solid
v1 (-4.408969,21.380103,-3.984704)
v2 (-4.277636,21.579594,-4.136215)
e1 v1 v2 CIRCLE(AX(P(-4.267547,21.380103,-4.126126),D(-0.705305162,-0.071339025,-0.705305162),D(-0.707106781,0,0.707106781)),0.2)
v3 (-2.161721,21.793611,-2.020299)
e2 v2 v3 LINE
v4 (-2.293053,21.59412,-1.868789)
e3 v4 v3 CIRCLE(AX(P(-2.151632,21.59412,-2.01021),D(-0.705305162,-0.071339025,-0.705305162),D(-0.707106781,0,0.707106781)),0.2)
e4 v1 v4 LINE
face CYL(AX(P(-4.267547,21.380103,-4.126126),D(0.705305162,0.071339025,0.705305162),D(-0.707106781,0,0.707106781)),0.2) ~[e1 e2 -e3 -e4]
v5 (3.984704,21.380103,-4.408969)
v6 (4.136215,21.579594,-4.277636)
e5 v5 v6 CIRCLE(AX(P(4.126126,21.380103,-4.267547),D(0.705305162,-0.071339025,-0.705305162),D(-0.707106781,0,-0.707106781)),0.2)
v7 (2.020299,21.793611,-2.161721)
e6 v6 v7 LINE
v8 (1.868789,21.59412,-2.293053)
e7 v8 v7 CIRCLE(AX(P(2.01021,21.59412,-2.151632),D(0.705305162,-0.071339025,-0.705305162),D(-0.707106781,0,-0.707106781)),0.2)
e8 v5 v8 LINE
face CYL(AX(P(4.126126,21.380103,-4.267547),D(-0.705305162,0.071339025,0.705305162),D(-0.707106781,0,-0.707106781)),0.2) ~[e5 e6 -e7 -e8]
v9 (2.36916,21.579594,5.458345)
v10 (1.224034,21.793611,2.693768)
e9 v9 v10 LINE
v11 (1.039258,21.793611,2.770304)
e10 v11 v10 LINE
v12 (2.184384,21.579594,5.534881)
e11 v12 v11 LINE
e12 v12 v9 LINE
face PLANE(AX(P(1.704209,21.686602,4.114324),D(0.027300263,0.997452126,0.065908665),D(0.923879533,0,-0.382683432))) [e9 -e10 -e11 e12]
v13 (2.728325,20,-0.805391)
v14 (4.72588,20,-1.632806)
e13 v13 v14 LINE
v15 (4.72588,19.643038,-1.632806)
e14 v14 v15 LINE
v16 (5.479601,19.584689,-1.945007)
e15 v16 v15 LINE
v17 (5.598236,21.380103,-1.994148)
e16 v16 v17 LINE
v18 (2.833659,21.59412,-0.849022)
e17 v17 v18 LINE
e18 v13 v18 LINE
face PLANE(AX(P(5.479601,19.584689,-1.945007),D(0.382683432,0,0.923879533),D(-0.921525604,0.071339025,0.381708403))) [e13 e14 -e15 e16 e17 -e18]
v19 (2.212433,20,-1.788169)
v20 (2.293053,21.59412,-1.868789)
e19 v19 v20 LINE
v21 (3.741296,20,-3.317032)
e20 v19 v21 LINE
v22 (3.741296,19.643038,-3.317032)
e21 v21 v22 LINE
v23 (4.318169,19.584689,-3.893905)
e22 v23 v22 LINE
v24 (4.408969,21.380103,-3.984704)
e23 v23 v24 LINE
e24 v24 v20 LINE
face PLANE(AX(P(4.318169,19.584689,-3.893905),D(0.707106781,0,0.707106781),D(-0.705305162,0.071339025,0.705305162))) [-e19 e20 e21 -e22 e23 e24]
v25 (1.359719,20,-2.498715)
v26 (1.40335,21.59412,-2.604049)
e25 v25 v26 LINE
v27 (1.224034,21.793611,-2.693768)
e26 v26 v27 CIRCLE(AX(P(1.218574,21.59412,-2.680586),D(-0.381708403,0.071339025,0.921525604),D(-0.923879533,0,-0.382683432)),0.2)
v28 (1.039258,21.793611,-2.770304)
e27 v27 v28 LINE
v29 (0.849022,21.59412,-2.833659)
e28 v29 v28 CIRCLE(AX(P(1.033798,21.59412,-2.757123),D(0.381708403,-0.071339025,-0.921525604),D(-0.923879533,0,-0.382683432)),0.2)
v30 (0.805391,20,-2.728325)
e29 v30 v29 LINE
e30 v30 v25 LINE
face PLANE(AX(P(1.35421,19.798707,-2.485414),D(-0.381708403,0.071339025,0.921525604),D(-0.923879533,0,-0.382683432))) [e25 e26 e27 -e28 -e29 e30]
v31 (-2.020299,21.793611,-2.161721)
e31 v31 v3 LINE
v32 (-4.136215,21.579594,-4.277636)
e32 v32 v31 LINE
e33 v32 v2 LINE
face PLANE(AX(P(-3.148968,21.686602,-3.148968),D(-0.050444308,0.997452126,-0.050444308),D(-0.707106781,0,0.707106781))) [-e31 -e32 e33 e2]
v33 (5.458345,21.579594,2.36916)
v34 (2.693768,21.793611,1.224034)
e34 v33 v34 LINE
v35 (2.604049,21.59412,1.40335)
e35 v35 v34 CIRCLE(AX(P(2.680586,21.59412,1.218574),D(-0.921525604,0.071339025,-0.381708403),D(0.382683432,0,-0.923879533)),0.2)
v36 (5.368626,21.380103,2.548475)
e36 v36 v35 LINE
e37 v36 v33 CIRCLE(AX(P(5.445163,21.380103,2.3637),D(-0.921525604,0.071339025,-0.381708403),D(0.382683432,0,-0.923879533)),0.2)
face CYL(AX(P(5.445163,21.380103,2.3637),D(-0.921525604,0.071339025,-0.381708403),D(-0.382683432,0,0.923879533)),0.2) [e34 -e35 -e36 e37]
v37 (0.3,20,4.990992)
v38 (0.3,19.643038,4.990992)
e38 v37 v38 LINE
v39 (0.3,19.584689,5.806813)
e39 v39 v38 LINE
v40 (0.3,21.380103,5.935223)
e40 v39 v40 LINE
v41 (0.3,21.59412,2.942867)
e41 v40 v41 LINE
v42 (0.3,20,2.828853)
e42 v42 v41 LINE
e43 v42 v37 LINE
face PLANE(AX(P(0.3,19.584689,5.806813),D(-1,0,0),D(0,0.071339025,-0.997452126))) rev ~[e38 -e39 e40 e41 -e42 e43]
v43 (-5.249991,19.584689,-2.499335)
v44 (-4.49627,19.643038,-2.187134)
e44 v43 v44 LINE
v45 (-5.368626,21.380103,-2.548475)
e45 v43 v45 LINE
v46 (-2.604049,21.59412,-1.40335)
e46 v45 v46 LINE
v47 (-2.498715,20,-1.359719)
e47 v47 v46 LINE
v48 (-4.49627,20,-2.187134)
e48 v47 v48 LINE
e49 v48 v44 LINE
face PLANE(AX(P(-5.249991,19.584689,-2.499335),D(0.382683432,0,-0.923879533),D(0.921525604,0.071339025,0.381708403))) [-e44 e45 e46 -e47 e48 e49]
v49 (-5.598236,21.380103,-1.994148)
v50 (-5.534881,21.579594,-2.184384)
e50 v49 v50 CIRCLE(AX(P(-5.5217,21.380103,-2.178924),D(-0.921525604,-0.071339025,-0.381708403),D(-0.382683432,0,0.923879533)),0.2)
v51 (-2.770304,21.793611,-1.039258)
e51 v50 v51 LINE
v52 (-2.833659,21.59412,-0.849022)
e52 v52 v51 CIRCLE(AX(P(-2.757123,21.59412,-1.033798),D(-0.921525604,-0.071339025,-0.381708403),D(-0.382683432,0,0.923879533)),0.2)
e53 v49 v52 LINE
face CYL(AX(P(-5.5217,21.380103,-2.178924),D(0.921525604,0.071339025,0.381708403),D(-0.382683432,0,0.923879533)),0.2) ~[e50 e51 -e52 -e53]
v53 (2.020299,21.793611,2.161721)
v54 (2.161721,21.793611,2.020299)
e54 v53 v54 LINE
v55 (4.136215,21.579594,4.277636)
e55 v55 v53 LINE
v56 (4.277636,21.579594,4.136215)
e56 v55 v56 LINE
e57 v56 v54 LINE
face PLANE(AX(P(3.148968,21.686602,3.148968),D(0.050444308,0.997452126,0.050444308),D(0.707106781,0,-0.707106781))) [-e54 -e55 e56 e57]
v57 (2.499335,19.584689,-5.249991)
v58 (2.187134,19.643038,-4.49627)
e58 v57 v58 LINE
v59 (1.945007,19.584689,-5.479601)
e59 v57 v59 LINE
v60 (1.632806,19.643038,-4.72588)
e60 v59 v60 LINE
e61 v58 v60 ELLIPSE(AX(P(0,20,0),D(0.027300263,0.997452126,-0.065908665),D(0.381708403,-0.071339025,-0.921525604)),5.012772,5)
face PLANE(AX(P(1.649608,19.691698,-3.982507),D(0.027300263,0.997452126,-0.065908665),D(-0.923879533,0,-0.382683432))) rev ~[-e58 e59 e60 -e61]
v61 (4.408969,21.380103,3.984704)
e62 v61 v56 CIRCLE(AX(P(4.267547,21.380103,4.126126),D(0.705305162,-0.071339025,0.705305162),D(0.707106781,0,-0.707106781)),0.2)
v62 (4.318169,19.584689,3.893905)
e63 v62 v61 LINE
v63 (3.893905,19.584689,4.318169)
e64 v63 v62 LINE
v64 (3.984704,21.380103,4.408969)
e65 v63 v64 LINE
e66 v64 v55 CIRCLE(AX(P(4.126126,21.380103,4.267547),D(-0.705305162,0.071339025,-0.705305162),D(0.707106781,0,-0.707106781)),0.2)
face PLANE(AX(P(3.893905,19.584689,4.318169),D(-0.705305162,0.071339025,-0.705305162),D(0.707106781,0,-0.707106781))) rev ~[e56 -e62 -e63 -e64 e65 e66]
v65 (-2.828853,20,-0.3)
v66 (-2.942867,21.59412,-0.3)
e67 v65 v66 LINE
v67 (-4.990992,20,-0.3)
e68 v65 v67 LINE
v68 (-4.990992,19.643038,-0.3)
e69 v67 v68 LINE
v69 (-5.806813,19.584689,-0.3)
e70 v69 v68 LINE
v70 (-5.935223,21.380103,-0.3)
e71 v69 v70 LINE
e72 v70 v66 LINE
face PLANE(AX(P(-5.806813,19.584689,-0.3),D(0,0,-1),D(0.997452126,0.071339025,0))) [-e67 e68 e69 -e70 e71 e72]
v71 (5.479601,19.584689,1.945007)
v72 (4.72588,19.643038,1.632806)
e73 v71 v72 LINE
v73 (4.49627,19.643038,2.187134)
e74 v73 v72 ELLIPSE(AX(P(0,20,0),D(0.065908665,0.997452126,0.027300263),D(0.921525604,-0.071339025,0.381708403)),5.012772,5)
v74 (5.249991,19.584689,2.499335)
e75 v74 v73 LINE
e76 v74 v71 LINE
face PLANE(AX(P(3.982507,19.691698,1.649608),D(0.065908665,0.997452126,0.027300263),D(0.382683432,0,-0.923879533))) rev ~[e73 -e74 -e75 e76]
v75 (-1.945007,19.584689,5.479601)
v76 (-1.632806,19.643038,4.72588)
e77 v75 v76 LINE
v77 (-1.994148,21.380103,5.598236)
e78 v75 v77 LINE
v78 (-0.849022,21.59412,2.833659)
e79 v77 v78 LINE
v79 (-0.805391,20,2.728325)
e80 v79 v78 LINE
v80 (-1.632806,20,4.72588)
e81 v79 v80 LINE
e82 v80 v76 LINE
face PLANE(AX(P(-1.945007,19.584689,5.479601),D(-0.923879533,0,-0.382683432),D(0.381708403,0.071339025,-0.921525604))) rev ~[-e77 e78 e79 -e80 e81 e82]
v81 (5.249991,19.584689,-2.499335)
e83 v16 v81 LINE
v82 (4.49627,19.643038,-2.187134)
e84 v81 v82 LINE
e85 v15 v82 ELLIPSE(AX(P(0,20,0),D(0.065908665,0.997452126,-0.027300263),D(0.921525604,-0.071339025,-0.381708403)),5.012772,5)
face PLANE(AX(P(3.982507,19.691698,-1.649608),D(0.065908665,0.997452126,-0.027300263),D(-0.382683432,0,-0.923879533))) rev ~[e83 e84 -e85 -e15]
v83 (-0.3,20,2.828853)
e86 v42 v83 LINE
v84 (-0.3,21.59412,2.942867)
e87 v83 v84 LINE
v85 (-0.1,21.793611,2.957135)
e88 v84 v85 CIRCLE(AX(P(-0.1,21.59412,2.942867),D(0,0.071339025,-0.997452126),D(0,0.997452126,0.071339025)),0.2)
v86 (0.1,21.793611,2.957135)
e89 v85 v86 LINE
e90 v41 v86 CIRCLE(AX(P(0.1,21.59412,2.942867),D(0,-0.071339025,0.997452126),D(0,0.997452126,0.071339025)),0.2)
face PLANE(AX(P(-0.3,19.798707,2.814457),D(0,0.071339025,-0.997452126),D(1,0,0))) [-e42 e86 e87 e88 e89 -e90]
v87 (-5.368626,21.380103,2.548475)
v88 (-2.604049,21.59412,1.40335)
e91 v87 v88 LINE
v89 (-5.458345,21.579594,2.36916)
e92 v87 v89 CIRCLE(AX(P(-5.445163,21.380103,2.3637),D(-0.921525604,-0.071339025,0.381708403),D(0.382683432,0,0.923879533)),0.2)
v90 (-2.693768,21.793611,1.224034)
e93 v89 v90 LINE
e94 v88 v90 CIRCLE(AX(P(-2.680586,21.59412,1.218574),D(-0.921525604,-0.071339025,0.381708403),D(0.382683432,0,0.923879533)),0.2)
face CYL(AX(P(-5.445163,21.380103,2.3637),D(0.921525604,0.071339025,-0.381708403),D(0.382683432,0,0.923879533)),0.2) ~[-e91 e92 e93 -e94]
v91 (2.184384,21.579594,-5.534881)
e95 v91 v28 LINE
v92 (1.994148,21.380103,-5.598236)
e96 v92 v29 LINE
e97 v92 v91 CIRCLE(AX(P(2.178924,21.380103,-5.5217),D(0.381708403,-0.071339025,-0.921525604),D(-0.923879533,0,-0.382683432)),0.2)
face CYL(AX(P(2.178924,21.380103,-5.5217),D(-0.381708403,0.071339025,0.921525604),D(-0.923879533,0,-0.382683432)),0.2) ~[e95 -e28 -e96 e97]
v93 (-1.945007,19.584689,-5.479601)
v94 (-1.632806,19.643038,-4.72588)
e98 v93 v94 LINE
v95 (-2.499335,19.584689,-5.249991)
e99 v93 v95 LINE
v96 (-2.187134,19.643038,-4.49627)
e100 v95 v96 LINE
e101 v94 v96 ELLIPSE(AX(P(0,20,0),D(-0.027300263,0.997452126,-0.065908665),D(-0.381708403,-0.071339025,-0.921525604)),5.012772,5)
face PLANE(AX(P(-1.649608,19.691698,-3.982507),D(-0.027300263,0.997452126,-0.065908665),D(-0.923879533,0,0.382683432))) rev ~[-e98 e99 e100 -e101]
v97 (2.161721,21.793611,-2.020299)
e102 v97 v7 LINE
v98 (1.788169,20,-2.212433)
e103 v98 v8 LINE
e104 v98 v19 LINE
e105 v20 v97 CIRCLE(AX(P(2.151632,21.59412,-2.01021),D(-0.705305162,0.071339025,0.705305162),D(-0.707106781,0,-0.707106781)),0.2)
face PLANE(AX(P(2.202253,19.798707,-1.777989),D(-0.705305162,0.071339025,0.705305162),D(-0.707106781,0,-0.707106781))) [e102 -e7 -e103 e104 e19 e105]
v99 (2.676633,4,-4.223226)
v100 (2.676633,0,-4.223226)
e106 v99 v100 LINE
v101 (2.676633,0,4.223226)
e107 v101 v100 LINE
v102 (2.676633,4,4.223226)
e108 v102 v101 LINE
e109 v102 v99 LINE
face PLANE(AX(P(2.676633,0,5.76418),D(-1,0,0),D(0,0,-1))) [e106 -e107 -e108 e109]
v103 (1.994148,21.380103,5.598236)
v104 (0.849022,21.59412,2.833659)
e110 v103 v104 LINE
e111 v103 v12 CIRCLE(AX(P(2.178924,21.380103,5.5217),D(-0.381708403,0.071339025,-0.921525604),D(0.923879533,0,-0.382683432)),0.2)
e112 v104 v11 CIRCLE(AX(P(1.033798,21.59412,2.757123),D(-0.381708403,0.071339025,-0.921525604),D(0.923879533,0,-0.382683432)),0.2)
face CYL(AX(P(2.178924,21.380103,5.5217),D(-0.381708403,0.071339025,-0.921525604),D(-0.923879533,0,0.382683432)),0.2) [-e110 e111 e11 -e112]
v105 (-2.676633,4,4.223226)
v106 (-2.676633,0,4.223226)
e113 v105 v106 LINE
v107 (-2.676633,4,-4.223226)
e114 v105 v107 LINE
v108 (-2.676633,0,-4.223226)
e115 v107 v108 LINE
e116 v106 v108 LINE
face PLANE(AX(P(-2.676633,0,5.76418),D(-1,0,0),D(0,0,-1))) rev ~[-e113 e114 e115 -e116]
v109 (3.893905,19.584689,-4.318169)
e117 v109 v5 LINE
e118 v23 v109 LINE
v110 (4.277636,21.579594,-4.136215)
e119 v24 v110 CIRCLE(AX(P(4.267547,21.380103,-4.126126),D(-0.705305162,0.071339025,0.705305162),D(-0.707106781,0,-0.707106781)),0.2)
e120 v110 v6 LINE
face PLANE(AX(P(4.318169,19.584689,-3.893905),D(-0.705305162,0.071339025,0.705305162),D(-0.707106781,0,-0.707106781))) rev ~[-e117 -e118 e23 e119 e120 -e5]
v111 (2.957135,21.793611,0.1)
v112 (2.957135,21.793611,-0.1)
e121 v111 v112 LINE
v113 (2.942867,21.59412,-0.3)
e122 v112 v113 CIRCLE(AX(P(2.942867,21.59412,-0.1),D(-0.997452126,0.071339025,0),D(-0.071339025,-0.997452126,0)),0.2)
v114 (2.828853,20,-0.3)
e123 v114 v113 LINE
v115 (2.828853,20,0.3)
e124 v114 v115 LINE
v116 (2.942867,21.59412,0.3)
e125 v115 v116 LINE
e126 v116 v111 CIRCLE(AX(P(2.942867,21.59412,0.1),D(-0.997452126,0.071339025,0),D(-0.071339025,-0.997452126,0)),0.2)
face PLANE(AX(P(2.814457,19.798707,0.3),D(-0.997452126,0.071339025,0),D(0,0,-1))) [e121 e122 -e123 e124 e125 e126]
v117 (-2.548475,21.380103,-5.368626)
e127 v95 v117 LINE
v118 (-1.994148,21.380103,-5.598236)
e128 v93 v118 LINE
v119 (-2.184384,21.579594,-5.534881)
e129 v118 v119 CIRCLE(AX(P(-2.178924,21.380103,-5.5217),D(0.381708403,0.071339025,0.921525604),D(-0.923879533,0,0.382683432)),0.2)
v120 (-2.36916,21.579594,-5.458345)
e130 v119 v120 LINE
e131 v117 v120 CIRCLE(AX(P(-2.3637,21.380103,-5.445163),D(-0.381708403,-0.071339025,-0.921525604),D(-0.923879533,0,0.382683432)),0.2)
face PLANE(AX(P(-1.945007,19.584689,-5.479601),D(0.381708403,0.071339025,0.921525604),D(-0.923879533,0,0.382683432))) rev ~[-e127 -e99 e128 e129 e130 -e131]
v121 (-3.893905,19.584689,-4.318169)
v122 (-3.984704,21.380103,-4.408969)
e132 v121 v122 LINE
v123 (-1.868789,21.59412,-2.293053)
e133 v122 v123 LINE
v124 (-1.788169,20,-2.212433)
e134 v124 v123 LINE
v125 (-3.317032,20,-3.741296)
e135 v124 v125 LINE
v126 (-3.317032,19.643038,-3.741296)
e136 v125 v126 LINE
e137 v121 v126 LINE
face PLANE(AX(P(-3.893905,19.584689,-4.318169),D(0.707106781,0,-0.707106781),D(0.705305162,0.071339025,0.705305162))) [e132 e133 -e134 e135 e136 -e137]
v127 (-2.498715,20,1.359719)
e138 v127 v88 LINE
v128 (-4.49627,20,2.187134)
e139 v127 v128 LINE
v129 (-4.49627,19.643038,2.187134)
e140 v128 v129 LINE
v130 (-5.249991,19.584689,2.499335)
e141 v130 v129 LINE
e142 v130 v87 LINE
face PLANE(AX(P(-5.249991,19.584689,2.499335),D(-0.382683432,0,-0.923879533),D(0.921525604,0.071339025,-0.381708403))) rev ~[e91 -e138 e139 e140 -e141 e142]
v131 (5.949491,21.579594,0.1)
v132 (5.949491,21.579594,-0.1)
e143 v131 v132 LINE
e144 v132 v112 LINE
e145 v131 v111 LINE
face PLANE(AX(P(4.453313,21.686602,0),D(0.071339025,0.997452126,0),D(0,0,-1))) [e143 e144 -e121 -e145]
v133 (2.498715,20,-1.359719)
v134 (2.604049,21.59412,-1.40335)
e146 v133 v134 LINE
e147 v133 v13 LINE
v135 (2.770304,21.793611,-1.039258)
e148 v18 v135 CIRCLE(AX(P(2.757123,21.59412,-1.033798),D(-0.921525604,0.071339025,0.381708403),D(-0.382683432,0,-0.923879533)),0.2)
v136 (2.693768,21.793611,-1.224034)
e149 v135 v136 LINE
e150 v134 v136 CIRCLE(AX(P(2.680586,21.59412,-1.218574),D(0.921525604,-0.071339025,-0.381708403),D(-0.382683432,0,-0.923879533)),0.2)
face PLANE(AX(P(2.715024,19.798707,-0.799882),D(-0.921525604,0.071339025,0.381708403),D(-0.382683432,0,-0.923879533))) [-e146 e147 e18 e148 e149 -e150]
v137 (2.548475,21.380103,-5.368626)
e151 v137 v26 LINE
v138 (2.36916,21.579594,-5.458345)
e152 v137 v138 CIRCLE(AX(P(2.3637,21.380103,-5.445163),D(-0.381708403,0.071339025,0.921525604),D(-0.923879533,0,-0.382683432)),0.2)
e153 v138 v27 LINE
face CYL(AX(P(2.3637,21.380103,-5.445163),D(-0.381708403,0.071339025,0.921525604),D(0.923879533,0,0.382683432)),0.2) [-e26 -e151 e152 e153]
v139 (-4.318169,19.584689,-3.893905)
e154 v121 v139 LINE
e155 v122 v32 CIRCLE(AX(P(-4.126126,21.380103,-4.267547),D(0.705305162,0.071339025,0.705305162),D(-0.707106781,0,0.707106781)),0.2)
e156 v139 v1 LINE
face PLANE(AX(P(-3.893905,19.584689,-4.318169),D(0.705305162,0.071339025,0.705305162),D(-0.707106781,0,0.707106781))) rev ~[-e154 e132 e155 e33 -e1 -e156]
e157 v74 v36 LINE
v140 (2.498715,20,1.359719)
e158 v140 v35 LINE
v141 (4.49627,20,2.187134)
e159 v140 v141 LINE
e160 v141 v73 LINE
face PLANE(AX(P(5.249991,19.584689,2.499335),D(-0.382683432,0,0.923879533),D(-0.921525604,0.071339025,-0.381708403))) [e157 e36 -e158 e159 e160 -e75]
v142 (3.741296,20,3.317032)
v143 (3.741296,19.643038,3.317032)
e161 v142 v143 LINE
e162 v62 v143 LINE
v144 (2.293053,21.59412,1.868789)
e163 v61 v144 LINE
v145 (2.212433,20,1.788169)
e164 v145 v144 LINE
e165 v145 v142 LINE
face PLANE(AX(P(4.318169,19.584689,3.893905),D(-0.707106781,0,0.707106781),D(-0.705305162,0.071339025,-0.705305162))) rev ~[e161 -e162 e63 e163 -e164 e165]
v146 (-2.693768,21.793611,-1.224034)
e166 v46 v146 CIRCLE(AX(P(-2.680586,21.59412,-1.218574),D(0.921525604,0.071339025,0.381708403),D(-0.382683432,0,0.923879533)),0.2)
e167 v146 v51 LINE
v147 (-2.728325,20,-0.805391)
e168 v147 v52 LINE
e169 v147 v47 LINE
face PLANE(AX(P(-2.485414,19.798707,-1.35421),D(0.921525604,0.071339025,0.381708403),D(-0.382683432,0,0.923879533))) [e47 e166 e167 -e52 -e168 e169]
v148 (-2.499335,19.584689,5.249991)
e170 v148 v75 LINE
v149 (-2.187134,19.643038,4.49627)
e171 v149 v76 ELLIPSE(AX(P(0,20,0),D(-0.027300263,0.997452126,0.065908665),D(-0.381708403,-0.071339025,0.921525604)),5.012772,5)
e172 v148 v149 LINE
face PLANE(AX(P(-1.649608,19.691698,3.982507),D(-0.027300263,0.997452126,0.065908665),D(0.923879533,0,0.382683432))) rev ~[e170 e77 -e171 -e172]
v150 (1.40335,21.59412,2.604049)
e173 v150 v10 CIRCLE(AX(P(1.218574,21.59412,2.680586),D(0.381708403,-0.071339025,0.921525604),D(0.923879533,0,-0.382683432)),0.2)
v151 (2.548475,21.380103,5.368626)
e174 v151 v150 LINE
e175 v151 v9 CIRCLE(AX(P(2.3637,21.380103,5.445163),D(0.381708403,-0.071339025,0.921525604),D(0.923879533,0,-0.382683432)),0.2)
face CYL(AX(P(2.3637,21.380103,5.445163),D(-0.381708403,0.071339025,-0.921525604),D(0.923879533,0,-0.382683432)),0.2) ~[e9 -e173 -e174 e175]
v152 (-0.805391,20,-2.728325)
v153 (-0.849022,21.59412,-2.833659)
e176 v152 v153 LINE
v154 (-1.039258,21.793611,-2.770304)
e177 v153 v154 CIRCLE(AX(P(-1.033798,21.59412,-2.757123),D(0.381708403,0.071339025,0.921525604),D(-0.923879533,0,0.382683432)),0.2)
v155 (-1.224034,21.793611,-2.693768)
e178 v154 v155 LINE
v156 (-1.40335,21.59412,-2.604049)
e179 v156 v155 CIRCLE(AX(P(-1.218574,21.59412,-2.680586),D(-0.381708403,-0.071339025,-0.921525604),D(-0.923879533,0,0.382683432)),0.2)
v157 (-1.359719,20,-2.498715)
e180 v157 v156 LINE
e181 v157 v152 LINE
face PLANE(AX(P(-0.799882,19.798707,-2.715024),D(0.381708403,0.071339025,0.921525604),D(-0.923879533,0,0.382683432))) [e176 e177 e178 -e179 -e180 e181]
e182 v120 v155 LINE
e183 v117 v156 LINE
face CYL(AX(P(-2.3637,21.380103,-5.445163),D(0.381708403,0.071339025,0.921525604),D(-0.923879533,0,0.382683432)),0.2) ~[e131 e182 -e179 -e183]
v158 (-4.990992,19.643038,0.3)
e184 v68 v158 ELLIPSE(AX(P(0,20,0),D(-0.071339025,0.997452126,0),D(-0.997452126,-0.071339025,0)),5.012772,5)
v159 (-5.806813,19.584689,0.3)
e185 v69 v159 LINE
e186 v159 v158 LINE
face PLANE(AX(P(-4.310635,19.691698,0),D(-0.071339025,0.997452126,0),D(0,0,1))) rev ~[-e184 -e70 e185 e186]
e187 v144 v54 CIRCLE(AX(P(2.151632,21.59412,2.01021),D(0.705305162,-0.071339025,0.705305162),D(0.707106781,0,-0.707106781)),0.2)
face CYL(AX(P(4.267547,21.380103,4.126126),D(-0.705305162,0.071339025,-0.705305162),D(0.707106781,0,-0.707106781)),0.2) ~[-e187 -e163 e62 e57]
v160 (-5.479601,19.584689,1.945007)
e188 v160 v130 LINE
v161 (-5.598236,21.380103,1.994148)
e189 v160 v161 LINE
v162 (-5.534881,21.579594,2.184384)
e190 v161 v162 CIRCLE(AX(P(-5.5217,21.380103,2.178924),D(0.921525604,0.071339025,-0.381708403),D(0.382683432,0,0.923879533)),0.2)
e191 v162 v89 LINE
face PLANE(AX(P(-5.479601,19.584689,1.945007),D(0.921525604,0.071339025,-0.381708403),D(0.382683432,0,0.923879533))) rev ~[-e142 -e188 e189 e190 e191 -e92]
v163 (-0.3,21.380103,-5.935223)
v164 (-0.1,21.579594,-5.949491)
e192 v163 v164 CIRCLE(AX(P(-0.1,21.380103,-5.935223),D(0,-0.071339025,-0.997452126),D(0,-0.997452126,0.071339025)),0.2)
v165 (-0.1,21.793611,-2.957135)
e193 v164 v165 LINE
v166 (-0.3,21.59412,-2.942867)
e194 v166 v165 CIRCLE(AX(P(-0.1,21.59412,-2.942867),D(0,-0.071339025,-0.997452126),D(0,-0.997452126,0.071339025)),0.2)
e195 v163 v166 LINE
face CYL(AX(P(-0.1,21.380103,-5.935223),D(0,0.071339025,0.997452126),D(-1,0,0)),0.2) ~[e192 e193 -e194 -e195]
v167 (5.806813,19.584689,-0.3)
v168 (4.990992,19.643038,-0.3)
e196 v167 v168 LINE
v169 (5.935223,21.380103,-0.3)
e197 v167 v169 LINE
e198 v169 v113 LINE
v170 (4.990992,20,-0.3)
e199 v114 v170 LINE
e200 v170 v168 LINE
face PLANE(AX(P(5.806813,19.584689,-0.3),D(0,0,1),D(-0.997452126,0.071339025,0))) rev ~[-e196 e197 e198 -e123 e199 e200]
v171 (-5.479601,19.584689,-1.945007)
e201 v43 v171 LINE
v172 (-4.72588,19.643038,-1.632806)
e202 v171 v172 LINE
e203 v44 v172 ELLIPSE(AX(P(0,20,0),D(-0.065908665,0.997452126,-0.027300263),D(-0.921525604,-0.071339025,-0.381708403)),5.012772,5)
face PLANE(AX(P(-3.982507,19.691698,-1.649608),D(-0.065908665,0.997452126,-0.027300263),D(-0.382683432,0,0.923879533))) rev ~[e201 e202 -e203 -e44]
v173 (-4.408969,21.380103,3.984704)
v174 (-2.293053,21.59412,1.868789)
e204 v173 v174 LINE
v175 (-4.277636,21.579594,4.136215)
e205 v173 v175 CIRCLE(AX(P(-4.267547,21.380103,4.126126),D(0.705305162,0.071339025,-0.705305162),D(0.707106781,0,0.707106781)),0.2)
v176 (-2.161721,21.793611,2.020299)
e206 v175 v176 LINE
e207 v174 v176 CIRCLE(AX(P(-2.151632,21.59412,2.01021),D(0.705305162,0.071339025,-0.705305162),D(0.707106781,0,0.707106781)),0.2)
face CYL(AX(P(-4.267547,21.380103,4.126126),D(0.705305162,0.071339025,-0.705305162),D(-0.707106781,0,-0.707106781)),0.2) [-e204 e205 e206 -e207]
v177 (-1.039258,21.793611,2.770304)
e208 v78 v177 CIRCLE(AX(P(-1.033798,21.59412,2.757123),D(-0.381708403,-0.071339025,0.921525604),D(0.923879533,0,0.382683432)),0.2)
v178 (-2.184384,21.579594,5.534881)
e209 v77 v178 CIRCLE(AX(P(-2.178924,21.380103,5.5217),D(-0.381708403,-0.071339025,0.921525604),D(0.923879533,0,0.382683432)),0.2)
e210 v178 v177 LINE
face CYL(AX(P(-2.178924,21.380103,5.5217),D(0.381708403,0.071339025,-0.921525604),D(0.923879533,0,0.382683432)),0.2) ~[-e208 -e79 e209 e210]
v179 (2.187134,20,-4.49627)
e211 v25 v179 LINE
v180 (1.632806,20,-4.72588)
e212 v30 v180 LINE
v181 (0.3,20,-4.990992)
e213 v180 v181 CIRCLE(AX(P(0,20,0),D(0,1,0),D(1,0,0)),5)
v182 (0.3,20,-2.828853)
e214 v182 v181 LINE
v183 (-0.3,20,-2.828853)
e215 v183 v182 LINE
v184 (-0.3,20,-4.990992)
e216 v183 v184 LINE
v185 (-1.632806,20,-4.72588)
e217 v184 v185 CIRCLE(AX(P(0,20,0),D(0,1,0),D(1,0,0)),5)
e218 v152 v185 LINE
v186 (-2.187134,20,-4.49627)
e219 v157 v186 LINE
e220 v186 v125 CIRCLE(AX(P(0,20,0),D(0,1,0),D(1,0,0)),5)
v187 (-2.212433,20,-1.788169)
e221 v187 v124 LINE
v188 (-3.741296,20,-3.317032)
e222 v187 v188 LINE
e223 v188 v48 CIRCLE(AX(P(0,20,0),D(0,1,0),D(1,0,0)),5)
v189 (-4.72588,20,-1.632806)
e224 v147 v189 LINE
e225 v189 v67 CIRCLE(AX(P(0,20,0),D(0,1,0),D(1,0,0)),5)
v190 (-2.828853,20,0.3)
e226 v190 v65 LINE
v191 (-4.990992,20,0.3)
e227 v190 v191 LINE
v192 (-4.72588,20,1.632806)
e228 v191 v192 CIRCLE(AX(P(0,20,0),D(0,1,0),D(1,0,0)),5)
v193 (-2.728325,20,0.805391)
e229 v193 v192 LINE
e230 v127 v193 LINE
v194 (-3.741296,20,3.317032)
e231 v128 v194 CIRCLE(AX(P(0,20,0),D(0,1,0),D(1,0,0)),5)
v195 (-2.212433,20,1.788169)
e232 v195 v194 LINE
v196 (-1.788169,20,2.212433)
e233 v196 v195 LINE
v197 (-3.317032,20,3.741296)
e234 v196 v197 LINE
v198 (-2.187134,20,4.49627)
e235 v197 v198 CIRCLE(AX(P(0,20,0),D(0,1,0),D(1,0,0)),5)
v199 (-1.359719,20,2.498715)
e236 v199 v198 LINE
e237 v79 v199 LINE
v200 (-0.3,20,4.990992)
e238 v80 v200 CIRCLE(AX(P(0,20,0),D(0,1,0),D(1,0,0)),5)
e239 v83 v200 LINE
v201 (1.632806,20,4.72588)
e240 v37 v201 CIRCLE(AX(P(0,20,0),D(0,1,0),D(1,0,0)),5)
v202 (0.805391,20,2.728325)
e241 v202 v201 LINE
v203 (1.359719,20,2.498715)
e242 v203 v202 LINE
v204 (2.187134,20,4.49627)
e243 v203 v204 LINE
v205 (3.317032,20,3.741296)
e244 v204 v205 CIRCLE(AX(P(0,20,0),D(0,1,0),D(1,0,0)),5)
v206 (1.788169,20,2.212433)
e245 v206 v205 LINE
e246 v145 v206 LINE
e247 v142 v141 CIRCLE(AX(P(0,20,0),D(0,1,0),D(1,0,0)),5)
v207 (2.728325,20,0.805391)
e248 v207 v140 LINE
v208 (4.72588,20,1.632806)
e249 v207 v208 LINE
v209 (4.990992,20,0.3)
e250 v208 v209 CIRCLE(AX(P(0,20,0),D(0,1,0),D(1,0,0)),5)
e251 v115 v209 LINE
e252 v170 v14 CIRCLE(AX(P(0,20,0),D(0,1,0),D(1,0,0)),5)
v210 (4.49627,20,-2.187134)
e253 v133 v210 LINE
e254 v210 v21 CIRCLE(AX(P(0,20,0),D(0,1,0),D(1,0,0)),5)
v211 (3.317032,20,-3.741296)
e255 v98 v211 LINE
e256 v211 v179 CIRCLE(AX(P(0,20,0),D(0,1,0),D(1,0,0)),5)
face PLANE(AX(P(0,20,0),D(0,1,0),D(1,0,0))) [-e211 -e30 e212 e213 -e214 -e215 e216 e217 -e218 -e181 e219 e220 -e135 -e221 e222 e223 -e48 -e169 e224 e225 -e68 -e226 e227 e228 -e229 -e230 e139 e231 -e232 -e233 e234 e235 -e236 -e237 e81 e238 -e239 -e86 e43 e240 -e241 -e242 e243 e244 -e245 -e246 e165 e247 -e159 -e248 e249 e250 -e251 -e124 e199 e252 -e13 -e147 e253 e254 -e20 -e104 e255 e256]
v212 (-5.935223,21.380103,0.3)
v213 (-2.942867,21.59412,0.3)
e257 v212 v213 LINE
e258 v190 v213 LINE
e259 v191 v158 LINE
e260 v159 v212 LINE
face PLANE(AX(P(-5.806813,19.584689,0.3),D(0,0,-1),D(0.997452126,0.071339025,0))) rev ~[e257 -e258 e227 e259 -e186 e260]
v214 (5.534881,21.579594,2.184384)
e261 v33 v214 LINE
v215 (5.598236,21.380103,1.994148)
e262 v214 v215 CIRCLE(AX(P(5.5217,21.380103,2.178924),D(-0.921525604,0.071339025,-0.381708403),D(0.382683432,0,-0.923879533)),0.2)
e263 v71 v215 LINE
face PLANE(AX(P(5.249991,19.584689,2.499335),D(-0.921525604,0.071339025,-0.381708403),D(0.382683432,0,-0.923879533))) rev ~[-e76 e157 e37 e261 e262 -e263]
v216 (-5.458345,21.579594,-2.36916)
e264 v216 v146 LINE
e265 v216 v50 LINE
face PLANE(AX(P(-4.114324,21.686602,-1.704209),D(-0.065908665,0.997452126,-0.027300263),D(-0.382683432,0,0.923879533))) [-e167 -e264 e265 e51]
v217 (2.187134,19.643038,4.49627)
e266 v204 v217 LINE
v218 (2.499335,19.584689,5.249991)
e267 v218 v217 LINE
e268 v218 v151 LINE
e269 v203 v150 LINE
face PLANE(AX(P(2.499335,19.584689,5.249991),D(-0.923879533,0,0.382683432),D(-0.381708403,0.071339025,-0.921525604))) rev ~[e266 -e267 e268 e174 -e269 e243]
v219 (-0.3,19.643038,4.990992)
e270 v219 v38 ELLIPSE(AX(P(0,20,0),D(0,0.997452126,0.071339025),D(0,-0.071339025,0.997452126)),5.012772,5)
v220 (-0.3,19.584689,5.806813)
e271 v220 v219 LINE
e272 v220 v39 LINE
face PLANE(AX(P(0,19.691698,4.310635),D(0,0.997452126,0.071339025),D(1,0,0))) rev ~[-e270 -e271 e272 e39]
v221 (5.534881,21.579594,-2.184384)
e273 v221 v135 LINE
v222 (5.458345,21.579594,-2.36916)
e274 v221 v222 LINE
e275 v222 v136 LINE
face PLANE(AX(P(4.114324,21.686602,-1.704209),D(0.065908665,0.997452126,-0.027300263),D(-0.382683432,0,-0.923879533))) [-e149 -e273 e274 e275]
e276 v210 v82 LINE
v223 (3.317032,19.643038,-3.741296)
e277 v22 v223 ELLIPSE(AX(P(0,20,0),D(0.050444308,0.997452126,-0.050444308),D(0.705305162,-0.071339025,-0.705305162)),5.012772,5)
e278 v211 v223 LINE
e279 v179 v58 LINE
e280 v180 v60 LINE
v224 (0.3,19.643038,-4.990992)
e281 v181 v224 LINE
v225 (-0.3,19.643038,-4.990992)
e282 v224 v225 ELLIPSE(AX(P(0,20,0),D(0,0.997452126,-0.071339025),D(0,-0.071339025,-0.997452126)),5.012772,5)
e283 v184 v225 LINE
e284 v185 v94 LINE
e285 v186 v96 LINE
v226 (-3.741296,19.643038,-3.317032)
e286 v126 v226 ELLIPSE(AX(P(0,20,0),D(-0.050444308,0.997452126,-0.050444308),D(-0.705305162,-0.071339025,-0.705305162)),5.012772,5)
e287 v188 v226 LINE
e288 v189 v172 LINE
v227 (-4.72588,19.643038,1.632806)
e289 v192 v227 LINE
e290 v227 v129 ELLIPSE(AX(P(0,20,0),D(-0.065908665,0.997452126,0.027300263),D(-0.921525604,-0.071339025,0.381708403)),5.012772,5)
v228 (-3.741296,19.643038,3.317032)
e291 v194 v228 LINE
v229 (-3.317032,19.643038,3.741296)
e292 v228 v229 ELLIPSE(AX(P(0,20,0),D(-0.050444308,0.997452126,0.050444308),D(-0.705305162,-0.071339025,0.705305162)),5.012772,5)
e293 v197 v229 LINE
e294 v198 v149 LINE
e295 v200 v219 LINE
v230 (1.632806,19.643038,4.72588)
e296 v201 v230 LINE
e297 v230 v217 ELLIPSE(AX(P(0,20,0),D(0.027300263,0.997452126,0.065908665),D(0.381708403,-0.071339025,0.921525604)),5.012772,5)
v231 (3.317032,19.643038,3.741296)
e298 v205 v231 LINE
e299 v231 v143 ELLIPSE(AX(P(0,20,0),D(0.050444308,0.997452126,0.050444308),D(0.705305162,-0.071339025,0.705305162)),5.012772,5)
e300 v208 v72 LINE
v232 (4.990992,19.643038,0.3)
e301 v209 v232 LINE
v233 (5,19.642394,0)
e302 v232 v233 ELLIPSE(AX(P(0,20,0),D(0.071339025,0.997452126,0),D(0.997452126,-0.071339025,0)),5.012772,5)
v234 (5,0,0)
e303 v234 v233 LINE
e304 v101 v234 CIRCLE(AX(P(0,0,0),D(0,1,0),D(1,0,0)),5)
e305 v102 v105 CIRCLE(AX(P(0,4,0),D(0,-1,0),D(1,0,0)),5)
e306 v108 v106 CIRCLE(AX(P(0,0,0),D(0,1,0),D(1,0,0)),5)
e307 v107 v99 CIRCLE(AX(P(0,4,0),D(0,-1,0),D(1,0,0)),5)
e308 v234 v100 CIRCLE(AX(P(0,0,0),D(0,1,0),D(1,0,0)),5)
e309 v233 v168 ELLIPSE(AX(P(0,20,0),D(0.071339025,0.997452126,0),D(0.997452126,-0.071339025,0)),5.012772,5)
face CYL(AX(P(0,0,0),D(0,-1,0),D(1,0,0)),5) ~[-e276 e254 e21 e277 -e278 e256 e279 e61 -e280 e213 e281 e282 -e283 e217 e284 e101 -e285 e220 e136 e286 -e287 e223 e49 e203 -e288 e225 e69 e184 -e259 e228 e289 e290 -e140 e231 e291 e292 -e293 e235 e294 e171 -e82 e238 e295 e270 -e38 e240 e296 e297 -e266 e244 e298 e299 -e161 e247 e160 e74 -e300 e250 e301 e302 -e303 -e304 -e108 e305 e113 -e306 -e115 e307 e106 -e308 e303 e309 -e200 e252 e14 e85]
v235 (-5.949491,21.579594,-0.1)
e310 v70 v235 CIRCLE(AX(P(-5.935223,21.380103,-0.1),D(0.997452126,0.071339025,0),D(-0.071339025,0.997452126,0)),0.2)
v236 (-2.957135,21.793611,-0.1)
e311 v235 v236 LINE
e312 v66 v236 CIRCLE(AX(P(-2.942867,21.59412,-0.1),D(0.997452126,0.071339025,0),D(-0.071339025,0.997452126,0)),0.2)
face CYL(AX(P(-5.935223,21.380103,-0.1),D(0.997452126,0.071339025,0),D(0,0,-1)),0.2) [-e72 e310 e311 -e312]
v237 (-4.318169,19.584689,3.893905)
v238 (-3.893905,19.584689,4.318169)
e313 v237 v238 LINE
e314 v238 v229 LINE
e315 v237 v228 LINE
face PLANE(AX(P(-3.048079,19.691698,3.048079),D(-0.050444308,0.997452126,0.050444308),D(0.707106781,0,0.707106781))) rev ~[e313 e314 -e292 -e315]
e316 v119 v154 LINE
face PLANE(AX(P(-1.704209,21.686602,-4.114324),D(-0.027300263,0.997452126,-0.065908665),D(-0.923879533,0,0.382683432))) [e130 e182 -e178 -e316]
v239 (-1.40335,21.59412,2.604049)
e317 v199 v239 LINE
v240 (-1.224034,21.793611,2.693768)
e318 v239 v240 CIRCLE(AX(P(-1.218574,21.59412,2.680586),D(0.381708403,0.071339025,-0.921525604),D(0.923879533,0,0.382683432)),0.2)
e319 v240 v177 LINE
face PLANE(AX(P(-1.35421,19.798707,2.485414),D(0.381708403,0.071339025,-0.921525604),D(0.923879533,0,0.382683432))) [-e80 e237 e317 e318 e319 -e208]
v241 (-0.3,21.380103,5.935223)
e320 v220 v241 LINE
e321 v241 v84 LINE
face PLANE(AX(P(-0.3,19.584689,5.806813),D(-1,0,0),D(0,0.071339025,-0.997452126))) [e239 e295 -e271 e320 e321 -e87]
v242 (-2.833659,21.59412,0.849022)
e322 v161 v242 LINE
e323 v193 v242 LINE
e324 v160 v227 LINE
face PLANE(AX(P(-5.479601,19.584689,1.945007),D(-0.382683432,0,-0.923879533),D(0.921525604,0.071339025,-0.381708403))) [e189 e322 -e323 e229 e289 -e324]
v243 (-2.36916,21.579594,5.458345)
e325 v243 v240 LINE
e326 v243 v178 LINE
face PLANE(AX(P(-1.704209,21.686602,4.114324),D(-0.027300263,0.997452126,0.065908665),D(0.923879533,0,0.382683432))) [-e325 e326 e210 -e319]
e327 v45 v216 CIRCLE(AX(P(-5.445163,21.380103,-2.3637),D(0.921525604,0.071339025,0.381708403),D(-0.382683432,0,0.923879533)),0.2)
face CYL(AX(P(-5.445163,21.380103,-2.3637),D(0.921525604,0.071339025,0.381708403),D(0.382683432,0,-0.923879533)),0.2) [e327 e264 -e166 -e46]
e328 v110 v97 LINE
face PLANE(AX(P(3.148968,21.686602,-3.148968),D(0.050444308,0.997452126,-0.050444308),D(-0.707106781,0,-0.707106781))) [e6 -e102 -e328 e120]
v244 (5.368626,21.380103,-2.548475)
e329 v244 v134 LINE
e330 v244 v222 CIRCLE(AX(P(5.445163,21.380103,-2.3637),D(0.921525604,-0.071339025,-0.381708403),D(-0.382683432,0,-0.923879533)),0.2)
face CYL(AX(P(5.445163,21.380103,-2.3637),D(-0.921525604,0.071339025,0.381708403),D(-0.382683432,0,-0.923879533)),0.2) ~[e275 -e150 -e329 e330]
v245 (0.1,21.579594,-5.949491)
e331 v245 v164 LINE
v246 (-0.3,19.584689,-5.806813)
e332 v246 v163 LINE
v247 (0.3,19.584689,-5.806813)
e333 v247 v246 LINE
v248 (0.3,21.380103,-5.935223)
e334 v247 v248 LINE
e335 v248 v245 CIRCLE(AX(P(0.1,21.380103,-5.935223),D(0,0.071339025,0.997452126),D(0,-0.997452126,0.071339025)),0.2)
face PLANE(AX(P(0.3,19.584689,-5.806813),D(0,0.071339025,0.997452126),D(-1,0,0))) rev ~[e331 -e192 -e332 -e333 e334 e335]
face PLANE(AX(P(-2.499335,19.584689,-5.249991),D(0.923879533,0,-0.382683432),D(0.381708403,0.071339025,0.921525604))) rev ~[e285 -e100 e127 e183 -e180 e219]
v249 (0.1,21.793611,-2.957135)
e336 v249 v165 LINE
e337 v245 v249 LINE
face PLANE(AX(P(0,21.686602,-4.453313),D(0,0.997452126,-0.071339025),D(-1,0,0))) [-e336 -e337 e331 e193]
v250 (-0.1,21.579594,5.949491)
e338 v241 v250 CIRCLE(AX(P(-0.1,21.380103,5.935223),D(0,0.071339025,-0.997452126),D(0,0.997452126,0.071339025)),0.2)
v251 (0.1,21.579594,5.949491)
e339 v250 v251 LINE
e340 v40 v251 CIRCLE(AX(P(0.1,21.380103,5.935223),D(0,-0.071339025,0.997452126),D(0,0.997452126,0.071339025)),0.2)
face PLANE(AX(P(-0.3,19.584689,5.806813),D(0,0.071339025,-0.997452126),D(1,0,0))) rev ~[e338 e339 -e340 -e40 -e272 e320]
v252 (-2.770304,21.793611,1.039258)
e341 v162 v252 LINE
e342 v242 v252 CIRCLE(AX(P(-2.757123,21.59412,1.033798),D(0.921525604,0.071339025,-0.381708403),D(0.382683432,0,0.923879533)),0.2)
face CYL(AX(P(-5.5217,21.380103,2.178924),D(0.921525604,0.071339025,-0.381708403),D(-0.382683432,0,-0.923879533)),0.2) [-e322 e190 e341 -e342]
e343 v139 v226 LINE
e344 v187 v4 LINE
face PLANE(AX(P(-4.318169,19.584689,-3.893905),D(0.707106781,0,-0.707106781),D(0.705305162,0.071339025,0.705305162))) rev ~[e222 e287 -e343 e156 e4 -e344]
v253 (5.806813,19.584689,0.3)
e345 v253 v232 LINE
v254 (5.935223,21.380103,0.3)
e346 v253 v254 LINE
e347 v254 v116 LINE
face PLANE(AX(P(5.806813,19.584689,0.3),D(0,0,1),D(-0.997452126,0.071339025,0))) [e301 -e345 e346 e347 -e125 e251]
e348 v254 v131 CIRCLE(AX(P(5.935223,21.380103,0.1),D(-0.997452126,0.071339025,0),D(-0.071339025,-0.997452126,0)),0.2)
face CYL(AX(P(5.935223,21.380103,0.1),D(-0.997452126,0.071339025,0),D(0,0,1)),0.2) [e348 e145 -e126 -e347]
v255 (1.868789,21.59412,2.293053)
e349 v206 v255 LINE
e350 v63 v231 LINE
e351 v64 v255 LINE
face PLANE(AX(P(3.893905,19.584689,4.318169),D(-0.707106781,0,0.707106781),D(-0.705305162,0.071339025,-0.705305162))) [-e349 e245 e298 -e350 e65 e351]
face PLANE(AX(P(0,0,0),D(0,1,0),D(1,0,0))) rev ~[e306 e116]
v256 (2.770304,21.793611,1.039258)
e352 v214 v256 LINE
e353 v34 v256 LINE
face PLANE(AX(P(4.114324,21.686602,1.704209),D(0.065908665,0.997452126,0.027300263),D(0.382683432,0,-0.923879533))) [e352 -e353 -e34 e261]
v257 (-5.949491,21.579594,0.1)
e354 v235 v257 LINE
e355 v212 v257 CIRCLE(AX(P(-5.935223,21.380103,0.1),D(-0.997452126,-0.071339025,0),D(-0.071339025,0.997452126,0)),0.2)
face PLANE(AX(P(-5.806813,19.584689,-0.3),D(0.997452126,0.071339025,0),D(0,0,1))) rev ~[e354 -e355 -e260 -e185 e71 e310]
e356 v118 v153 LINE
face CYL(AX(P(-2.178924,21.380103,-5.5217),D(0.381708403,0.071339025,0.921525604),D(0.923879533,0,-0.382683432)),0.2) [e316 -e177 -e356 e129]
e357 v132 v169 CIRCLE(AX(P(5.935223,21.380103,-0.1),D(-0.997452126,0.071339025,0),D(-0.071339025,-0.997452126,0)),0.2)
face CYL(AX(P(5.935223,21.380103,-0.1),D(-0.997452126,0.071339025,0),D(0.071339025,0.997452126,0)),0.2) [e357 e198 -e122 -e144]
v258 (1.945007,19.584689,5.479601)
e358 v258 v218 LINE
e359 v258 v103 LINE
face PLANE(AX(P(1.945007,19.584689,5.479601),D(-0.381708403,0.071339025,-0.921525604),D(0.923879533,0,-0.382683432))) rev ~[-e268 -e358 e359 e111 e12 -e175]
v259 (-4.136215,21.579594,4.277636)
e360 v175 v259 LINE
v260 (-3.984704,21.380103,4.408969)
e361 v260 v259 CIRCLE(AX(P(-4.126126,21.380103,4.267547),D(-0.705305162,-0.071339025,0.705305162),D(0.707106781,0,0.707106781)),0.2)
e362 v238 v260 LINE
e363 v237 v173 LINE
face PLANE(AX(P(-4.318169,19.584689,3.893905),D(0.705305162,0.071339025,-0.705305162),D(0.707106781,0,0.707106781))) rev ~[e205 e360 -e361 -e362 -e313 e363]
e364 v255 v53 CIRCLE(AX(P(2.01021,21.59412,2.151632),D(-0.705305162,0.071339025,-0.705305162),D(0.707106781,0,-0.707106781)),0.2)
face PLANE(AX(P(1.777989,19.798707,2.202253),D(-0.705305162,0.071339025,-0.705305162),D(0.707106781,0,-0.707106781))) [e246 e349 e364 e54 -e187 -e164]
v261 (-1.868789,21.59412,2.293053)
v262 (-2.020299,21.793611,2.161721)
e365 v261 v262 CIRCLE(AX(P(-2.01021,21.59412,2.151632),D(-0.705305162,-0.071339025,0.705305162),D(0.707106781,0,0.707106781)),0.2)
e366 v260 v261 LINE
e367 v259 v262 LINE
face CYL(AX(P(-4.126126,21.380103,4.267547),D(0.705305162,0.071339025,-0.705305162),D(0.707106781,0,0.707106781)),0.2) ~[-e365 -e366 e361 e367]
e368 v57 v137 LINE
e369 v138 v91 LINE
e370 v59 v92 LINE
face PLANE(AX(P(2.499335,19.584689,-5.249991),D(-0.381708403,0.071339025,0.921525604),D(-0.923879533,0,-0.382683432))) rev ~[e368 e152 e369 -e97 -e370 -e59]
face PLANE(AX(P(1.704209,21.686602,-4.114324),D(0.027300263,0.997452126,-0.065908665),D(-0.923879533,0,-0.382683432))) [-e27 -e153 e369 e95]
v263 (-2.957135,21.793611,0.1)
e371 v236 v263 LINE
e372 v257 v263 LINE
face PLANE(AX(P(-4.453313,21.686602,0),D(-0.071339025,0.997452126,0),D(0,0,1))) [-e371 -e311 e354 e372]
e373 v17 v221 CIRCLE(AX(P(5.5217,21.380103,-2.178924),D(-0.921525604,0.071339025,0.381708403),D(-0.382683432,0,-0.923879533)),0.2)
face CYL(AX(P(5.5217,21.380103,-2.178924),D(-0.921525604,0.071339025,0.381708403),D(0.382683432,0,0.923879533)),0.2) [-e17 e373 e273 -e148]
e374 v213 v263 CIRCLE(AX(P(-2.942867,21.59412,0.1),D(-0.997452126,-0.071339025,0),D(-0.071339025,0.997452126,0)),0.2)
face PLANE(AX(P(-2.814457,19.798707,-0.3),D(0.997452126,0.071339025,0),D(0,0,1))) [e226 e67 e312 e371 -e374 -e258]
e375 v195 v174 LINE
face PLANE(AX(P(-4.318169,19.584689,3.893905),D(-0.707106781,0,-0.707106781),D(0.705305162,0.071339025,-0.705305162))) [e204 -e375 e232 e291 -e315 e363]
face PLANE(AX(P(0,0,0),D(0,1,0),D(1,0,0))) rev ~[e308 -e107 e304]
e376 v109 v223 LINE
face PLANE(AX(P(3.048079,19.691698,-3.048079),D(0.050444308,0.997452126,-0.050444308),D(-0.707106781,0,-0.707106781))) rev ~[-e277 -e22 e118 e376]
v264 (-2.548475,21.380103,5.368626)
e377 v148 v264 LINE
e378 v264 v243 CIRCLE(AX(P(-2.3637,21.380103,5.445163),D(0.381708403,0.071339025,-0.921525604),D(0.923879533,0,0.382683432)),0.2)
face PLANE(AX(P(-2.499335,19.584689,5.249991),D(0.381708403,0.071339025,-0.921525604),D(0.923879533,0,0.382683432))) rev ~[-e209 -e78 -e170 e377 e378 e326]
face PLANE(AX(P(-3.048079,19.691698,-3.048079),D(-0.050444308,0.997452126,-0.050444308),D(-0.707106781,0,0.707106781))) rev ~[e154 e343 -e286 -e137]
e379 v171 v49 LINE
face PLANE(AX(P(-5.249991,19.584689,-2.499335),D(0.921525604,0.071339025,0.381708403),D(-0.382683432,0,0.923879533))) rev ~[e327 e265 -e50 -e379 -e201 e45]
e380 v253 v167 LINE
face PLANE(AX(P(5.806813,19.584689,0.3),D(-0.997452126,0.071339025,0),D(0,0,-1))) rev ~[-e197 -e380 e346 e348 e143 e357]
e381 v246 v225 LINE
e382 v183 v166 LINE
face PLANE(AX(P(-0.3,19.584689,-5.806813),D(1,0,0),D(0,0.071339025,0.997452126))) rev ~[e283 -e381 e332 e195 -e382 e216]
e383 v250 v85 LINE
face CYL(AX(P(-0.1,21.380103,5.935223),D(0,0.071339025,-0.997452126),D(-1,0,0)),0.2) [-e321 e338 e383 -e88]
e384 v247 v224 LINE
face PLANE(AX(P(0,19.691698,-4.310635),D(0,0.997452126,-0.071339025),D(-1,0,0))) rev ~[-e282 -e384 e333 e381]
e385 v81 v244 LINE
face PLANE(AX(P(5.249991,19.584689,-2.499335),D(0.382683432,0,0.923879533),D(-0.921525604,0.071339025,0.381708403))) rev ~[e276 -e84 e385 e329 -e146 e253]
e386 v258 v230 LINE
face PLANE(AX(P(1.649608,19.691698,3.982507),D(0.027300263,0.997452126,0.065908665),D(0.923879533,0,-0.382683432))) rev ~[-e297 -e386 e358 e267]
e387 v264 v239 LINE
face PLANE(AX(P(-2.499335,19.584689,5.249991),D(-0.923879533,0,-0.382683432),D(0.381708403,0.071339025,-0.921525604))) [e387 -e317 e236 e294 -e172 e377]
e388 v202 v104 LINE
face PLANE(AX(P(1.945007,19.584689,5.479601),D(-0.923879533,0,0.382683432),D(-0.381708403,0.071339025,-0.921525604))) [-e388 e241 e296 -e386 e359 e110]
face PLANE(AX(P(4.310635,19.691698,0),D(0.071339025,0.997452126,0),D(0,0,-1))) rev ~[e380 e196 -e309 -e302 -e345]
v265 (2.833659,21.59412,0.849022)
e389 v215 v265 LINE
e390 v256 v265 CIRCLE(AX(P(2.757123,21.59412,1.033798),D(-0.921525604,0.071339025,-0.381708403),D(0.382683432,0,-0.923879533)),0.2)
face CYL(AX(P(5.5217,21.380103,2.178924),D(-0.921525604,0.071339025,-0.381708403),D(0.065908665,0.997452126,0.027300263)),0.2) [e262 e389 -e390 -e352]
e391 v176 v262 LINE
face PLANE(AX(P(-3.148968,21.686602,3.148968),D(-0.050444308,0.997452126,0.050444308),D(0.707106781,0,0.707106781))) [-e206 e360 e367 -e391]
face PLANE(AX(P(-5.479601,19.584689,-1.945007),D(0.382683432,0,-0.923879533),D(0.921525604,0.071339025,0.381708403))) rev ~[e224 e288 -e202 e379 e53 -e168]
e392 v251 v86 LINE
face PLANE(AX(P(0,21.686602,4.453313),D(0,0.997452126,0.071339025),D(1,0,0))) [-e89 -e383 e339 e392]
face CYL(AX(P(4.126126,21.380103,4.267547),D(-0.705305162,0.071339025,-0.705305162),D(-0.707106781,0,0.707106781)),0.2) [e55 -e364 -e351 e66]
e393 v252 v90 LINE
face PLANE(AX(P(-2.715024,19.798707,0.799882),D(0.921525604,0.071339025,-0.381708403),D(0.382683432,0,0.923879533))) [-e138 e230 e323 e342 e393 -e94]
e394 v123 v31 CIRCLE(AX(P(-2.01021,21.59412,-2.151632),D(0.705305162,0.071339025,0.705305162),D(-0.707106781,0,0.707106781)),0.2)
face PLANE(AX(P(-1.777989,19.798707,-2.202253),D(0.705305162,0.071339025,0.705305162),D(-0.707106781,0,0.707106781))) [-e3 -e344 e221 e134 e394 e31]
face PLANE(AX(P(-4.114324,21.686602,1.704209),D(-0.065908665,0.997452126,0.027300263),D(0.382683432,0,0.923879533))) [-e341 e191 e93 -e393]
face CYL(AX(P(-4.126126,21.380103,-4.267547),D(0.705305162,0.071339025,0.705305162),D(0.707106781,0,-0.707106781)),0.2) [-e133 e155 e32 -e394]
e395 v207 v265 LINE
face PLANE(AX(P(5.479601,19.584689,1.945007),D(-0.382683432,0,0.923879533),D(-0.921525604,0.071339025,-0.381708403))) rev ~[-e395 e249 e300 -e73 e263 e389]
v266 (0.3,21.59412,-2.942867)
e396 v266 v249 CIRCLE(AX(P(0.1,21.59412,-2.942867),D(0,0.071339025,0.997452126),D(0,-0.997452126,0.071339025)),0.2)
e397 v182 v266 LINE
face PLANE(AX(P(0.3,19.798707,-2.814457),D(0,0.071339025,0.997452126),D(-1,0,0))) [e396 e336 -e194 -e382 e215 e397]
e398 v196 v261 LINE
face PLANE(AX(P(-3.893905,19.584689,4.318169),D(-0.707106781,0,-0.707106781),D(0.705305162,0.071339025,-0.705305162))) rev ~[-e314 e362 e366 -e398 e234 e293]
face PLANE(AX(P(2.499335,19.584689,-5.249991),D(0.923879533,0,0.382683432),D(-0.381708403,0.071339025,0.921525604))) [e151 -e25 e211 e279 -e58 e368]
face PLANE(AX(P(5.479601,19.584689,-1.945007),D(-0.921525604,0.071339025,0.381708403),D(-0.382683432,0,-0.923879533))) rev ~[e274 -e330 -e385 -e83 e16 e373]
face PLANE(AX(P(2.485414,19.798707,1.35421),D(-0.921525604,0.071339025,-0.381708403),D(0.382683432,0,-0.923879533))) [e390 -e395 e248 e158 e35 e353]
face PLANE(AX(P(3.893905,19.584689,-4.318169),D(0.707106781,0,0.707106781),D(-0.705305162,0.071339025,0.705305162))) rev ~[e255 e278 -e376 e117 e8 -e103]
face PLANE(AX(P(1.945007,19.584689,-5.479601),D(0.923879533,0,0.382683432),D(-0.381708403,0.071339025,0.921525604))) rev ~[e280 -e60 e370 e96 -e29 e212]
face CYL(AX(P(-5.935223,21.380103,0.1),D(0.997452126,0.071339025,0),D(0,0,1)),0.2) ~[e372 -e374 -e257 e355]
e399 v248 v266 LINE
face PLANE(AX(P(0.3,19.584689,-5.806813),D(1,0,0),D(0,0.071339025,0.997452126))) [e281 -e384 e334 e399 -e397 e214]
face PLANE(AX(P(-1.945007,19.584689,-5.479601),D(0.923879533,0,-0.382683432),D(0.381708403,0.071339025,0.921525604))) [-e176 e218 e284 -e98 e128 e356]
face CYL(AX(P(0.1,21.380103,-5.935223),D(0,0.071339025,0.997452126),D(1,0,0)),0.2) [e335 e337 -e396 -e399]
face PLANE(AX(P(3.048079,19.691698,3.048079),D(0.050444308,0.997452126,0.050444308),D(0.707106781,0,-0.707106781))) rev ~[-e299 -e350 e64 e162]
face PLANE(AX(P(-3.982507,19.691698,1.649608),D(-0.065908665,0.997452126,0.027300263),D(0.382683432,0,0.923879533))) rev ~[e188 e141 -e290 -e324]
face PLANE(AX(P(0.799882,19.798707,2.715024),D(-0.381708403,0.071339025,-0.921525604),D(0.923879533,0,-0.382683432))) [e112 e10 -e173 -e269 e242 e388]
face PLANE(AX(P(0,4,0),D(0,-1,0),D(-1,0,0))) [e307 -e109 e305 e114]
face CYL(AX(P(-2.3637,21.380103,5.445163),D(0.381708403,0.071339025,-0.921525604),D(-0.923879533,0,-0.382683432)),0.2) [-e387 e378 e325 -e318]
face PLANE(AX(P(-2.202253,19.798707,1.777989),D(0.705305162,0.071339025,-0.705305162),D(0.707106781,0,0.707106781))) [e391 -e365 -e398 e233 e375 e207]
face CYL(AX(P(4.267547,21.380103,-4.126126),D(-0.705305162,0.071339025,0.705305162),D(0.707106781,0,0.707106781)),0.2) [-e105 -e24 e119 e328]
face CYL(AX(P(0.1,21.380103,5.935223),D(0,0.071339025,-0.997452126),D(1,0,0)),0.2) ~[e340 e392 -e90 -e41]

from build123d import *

# Parameters (mm, degrees)
SKETCH_1_R                       = 5
EXTRUDE_1_DEPTH                  = 20
SKETCH_3_W                       = 0.6
SKETCH_3_H                       = 3
EXTRUDE_2_DEPTH                  = 2
FILLET_1_R                       = 0.2
PATTERN_CIRCULAR_3_COUNT         = 16
FILLET_1_OF_PATTERN_CIRCULAR_3_R = 0.2
SKETCH_4_W                       = 5.353265718
SKETCH_4_H                       = 11.52836058
CUT_EXTRUDE_1_DEPTH              = 4


with BuildPart() as part:
    # 草图1 → 凸台-拉伸1 (new body)
    with BuildSketch(Plane(origin=(0, 0, 0), x_dir=(1, 0, 0), z_dir=(0, 1, 0))):
        Circle(SKETCH_1_R)
    extrude(amount=EXTRUDE_1_DEPTH)

    # 草图3 → 凸台-拉伸2 (add)
    with BuildSketch(Plane(origin=(1.423145242, 19.89821487, 0), x_dir=(0, 0, -1), z_dir=(0.071339025, 0.997452126, 0))):
        with Locations((0, -2.894865204)):
            Rectangle(SKETCH_3_W, SKETCH_3_H)
    extrude_2 = extrude(amount=EXTRUDE_2_DEPTH)

    # 圆角1
    fillet_1_edges = [part.edges().sort_by_distance(p)[0] for p in [
        (4.453312743, 21.686602261, -0.3),
        (4.453312743, 21.686602261, 0.3),
    ]]
    fillet(fillet_1_edges, radius=FILLET_1_R)

    # 阵列(圆周)3: 凸台-拉伸2 ×16 about axis
    pattern_circular_3_axis = Axis((0, 0, 0), (0, 1, 0))
    for i in range(1, PATTERN_CIRCULAR_3_COUNT):
        add(extrude_2.rotate(pattern_circular_3_axis, i * 360 / PATTERN_CIRCULAR_3_COUNT))

    # 圆角1 of 阵列(圆周)3
    fillet_1_of_pattern_circular_3_edges = [part.edges().sort_by_distance(p)[0] for p in [
        (3.999519466, 21.686602261, -1.981372866),
        (4.229129525, 21.686602261, -1.427045146),
        (2.936835605, 21.686602261, -3.361099674),
        (3.361099674, 21.686602261, -2.936835605),
        (1.427045146, 21.686602261, -4.229129525),
        (1.981372866, 21.686602261, -3.999519466),
        (-0.3, 21.686602261, -4.453312743),
        (0.3, 21.686602261, -4.453312743),
        (-1.981372866, 21.686602261, -3.999519466),
        (-1.427045146, 21.686602261, -4.229129525),
        (-3.361099674, 21.686602261, -2.936835605),
        (-2.936835605, 21.686602261, -3.361099674),
        (-4.229129525, 21.686602261, -1.427045146),
        (-3.999519466, 21.686602261, -1.981372866),
        (-4.453312743, 21.686602261, 0.3),
        (-4.453312743, 21.686602261, -0.3),
        (-3.999519466, 21.686602261, 1.981372866),
        (-4.229129525, 21.686602261, 1.427045146),
        (-2.936835605, 21.686602261, 3.361099674),
        (-3.361099674, 21.686602261, 2.936835605),
        (-1.427045146, 21.686602261, 4.229129525),
        (-1.981372866, 21.686602261, 3.999519466),
        (0.3, 21.686602261, 4.453312743),
        (-0.3, 21.686602261, 4.453312743),
        (1.981372866, 21.686602261, 3.999519466),
        (1.427045146, 21.686602261, 4.229129525),
        (3.361099674, 21.686602261, 2.936835605),
        (2.936835605, 21.686602261, 3.361099674),
        (4.229129525, 21.686602261, 1.427045146),
        (3.999519466, 21.686602261, 1.981372866),
    ]]
    fillet(fillet_1_of_pattern_circular_3_edges, radius=FILLET_1_OF_PATTERN_CIRCULAR_3_R)

    # 草图4 → 切除-拉伸1 (cut)
    with BuildSketch(Plane(origin=(0, 0, 0), x_dir=(-1, 0, 0), z_dir=(0, -1, 0))):
        Rectangle(SKETCH_4_W, SKETCH_4_H)
    extrude(amount=-CUT_EXTRUDE_1_DEPTH, mode=Mode.SUBTRACT)


solid = part.part
